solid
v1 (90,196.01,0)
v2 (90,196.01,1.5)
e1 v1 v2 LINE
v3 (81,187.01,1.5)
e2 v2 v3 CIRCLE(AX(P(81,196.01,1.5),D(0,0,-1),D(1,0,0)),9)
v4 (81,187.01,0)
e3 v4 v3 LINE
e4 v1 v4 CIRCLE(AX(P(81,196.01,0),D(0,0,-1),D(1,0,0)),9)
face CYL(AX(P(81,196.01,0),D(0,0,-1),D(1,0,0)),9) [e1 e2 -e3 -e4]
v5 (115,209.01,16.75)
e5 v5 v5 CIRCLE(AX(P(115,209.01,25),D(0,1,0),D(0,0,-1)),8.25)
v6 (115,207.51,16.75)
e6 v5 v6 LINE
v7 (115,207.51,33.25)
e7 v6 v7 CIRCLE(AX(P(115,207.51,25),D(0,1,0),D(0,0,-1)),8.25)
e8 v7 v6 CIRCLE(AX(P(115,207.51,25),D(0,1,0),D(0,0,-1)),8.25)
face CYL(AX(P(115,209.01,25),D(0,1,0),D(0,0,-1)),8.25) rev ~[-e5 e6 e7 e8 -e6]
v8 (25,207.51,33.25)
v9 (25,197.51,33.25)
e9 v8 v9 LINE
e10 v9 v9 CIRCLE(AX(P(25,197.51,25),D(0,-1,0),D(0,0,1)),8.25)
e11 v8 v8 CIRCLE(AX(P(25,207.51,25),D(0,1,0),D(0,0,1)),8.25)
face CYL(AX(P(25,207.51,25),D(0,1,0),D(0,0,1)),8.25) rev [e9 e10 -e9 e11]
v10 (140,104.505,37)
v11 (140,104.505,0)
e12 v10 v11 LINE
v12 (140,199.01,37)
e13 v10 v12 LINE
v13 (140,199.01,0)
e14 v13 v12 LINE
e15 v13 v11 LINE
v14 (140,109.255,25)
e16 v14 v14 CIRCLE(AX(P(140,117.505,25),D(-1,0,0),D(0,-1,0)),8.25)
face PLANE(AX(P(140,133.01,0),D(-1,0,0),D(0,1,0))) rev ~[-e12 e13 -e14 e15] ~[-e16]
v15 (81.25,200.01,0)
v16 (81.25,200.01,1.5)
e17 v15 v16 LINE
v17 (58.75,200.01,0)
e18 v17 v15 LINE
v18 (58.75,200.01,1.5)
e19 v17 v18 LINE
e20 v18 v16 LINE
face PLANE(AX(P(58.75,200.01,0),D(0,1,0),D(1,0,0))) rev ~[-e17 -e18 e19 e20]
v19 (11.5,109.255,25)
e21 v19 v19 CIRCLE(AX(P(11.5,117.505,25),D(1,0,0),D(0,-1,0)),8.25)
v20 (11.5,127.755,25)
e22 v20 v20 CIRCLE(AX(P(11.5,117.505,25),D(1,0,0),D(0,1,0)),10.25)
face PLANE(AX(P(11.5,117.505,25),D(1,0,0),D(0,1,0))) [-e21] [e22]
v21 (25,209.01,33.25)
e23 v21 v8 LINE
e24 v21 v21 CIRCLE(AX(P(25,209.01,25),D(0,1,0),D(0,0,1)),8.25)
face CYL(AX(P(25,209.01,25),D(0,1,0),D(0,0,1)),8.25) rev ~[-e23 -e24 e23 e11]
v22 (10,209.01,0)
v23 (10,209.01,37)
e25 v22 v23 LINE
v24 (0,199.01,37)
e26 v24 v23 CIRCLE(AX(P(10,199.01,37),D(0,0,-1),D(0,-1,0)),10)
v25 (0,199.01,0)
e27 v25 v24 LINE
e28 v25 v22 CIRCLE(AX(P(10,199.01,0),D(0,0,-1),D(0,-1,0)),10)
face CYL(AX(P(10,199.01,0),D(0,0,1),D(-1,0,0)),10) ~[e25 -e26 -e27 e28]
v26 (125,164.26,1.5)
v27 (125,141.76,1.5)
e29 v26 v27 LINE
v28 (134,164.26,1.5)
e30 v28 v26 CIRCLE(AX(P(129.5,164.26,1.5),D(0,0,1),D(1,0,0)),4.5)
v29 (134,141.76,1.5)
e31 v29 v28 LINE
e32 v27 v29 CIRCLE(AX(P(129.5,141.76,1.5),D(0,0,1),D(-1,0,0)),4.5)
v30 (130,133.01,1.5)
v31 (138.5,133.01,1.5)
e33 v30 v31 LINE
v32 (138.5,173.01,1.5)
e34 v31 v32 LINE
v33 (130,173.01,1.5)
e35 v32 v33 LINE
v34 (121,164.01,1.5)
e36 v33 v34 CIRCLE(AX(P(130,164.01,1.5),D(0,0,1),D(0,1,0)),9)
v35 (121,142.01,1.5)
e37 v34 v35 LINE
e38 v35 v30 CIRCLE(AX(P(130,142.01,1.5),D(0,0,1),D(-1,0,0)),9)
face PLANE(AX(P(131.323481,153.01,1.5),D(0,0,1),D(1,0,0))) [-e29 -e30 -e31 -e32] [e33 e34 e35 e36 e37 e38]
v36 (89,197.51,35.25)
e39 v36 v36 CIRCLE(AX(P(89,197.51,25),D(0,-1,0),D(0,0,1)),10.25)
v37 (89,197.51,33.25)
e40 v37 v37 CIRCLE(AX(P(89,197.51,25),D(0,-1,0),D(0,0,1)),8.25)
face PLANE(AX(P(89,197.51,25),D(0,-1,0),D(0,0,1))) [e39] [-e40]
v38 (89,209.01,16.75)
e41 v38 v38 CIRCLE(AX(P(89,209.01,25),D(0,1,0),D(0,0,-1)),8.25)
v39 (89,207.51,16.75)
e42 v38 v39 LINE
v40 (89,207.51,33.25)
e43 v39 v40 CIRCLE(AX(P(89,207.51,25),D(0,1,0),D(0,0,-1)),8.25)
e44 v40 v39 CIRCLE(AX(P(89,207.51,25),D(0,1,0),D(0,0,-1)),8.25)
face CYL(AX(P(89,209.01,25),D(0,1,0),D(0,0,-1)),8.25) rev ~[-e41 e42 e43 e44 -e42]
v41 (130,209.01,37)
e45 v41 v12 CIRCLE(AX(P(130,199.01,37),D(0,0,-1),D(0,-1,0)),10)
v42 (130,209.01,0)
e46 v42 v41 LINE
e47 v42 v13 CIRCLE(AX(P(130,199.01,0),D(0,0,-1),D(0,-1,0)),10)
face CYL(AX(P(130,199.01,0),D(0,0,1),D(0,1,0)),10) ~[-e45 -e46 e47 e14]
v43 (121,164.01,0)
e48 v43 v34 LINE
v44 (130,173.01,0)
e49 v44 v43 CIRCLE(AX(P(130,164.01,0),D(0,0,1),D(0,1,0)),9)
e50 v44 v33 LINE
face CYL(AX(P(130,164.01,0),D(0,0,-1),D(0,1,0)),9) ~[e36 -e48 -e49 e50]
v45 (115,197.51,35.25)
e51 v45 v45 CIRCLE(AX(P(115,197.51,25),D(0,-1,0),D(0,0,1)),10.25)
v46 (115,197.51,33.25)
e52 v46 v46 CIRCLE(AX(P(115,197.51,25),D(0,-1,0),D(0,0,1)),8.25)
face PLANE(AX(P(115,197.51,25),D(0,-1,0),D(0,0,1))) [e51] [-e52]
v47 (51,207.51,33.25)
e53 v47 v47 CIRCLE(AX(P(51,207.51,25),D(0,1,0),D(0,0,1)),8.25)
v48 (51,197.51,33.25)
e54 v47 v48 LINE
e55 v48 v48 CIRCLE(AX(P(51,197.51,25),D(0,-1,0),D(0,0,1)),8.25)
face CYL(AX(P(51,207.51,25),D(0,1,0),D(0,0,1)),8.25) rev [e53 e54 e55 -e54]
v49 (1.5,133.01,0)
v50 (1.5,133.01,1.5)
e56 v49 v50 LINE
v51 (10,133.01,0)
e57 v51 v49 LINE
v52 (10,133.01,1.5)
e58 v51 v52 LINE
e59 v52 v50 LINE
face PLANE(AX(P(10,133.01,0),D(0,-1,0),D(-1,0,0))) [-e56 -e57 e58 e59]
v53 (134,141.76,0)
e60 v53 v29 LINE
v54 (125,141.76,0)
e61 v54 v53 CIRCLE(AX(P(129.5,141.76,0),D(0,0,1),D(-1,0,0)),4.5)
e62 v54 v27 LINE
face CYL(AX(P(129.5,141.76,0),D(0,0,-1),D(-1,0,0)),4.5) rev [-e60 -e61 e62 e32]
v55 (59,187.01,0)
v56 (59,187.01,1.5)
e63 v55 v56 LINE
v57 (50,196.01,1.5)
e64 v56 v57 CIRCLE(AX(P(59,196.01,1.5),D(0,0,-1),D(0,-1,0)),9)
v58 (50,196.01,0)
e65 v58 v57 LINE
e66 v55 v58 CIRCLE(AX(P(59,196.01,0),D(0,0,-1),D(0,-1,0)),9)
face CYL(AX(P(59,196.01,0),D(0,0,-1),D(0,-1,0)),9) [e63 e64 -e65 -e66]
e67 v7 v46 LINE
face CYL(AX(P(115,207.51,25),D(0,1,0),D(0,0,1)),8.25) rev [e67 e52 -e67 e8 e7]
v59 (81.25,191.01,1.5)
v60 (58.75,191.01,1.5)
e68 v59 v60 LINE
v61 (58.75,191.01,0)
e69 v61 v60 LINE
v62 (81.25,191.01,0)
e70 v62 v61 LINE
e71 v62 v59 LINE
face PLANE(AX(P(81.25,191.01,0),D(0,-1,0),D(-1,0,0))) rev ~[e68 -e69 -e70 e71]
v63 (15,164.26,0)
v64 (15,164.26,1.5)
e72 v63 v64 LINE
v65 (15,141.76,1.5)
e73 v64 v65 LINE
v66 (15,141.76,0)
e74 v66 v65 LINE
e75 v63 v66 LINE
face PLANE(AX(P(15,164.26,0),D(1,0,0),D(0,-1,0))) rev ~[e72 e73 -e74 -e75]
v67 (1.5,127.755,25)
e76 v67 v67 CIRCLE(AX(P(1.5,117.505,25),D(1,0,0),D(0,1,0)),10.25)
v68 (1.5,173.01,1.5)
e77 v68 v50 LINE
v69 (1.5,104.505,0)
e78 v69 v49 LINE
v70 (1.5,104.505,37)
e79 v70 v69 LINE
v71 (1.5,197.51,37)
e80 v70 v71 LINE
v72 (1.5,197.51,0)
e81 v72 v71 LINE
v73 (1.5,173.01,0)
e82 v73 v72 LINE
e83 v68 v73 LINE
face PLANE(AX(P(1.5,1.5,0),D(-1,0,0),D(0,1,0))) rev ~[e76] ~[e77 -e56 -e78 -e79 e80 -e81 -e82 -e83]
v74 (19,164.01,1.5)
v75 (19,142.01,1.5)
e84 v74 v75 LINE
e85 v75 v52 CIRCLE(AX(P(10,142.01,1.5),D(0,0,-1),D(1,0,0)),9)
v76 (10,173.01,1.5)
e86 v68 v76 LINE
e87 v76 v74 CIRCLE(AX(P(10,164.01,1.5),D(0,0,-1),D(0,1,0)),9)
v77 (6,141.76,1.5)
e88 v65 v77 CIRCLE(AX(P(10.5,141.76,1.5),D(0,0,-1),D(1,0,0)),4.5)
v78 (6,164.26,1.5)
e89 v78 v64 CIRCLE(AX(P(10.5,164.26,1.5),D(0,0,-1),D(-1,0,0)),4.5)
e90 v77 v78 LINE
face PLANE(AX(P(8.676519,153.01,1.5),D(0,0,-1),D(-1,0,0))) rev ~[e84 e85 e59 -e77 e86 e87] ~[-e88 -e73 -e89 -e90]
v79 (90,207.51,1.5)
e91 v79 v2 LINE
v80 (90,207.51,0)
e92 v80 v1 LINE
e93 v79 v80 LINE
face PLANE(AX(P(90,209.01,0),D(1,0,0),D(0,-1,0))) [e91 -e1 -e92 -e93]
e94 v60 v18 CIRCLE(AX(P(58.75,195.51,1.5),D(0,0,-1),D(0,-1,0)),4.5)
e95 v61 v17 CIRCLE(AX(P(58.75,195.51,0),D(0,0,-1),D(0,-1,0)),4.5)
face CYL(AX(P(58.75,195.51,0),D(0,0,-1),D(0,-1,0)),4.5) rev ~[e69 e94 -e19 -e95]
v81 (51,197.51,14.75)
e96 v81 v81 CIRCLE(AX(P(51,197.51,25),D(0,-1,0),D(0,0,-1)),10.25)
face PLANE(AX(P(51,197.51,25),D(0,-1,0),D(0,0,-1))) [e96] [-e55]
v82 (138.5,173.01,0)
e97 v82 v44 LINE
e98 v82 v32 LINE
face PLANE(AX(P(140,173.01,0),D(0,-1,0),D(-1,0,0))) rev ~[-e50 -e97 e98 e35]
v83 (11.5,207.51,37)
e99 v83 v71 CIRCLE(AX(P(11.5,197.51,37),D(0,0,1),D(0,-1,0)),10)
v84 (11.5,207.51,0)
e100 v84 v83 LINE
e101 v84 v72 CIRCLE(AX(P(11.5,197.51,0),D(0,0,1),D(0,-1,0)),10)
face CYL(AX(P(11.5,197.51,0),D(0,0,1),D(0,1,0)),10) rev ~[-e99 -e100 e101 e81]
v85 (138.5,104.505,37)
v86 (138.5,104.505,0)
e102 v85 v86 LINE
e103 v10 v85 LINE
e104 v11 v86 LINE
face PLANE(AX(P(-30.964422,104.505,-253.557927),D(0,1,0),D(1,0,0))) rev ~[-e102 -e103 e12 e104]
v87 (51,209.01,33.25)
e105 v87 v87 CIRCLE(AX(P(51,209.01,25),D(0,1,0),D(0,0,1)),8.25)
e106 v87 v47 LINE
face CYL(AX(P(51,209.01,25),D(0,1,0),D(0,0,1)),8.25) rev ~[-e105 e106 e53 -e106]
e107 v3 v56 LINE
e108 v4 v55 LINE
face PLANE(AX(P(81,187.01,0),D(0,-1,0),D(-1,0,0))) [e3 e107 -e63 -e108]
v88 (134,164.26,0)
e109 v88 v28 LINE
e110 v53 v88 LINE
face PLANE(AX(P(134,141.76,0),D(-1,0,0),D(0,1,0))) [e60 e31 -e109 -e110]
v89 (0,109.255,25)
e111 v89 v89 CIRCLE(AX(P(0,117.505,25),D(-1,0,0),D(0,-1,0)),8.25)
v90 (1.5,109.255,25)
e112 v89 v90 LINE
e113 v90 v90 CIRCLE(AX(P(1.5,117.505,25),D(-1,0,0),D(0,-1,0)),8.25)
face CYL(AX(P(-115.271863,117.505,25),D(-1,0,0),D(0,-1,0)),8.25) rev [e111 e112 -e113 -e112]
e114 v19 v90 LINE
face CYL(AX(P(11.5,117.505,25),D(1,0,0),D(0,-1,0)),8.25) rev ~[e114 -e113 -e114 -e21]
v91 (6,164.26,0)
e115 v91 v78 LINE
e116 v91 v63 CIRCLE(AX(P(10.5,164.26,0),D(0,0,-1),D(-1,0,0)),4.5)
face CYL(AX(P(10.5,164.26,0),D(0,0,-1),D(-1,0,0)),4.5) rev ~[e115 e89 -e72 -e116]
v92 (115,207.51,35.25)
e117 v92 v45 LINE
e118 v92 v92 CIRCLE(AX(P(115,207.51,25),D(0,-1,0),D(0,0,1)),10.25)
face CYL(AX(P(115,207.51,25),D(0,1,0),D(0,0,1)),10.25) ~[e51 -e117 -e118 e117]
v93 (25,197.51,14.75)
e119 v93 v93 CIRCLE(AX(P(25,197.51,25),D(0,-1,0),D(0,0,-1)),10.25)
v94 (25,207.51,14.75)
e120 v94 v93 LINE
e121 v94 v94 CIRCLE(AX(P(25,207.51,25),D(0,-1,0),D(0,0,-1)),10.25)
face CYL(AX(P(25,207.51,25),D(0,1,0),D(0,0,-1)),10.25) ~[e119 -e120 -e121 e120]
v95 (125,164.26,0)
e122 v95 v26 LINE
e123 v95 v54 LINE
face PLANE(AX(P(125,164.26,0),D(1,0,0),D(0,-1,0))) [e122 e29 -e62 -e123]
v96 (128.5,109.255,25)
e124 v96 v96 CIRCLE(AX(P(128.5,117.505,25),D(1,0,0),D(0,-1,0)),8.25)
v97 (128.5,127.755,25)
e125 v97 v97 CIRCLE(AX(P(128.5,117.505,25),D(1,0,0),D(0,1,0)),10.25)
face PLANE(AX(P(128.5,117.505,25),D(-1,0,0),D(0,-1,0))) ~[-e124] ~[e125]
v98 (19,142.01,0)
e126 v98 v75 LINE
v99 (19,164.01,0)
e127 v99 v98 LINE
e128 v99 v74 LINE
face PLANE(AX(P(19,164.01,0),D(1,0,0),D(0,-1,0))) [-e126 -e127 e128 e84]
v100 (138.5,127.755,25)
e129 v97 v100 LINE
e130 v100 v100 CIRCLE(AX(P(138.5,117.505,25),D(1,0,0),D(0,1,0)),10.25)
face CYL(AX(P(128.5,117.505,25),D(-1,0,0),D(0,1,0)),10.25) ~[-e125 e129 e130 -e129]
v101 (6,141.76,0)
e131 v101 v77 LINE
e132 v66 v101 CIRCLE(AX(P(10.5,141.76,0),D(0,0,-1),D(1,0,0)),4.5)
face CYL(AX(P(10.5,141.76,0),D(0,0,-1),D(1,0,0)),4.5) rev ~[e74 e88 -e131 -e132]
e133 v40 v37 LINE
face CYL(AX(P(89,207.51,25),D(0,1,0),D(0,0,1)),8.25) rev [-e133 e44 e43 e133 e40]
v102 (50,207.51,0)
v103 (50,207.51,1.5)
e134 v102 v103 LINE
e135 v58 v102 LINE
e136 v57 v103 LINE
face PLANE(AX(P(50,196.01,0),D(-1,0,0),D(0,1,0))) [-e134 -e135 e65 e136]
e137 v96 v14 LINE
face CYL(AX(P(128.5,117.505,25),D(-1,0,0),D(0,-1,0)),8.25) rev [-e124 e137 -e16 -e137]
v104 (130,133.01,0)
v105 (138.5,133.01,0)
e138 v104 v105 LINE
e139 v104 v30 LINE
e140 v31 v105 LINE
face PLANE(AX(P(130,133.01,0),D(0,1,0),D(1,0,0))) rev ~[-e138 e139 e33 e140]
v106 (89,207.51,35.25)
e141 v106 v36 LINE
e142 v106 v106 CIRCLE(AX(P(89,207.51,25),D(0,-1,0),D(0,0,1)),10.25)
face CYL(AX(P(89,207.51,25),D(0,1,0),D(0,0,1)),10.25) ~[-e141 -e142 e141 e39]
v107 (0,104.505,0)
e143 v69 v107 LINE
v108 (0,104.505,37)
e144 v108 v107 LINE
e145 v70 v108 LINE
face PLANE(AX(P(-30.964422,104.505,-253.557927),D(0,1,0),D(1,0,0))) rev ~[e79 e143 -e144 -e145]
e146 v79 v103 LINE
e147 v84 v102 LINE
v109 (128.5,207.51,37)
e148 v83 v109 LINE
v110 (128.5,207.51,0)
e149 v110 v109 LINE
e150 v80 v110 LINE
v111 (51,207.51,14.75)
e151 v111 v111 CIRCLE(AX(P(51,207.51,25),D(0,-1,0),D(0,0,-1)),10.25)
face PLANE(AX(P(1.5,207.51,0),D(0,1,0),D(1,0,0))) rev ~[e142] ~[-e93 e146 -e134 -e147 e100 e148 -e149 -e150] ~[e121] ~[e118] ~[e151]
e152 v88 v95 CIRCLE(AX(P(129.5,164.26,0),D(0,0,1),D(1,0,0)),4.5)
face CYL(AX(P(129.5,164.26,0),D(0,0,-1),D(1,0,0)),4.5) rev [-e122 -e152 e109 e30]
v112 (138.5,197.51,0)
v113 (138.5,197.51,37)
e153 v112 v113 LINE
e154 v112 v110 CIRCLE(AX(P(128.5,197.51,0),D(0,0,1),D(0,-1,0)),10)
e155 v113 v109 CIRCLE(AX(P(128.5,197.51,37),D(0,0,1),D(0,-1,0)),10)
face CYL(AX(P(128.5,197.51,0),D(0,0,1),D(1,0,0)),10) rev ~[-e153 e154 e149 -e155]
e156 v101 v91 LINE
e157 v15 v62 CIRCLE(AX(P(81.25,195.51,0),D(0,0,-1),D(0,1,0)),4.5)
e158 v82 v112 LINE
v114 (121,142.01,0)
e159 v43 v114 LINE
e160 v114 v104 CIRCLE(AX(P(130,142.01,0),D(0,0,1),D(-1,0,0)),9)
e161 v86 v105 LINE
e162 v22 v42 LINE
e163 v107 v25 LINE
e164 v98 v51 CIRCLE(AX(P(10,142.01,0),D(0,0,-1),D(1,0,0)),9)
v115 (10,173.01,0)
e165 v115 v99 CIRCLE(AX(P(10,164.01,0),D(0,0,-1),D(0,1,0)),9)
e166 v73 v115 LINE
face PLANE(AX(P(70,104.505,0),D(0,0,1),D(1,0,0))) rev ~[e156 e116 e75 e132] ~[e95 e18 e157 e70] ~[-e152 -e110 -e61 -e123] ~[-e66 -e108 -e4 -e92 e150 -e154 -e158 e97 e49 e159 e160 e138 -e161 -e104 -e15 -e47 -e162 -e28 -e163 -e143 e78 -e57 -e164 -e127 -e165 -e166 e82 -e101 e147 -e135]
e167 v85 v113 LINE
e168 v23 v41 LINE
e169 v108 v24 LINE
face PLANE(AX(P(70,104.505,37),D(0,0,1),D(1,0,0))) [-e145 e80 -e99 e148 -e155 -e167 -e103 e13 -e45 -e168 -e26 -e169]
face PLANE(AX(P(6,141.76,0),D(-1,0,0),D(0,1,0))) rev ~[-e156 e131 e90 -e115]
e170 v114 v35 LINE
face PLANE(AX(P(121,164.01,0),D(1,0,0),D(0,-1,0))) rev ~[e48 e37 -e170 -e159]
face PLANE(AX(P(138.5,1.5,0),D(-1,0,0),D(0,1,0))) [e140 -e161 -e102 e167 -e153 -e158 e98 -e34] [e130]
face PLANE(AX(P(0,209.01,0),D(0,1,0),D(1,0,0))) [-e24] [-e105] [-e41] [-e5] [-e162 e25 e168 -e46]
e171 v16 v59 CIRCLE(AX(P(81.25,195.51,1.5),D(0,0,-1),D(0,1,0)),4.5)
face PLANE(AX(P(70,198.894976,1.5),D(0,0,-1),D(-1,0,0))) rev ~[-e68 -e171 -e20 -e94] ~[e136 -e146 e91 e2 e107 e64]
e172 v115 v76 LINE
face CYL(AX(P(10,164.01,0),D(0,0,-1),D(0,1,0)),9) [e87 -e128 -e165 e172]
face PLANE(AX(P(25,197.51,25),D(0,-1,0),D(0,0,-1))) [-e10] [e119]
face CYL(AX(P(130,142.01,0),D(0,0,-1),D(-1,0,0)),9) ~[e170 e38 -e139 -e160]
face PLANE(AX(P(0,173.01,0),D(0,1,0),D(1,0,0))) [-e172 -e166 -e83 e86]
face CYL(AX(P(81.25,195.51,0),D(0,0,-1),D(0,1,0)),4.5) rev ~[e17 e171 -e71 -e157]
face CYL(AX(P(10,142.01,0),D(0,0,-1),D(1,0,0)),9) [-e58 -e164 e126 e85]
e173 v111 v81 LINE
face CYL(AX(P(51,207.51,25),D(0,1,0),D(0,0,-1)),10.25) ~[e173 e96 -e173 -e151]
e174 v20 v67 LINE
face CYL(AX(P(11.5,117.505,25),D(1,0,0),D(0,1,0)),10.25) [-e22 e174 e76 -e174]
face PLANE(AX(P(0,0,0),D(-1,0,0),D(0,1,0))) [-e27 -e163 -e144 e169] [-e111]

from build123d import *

# Parameters (mm, degrees)
SKIZZE1_W                            = 140
SKIZZE1_H                            = 209.01
SKIZZE1_W_2                          = 137
SKIZZE1_H_2                          = 206.01
AUFSATZ_LINEAR_AUSTRAGEN1_DEPTH      = 37
VERRUNDUNG1_R                        = 10
SKIZZE3_R                            = 8.25
SCHNITT_LINEAR_AUSTRAGEN1_DEPTH      = 1.5
SCHNITT_LINEAR_AUSTRAGEN2_DEPTH      = 255.27186258
SCHNITT_LINEAR_AUSTRAGEN2_DEPTH_BACK = 255.27186258
SKIZZE4_R                            = 8.25
AUFSATZ_LINEAR_AUSTRAGEN3_DEPTH      = 1.5
SCHNITT_LINEAR_AUSTRAGEN3_DEPTH      = 255.057926662
SCHNITT_LINEAR_AUSTRAGEN3_DEPTH_BACK = 255.057926662
SKIZZE6_W                            = 230.516002865
SKIZZE6_H                            = 119.565202556
SKIZZE7_R                            = 10.25
SKIZZE7_R_2                          = 8.25
AUFSATZ_LINEAR_AUSTRAGEN4_DEPTH      = 10
AUFSATZ_LINEAR_START                 = 10
SKIZZE8_R                            = 10.25
SKIZZE8_R_2                          = 8.25
AUFSATZ_LINEAR_AUSTRAGEN5_DEPTH      = 10


with BuildPart() as part:
    # Skizze1 → Aufsatz-Linear austragen1 (new body)
    with BuildSketch(Plane.XY):
        with Locations((70, 104.505)):
            Rectangle(SKIZZE1_W, SKIZZE1_H)
        with Locations((70, 104.505)):
            Rectangle(SKIZZE1_W_2, SKIZZE1_H_2, mode=Mode.SUBTRACT)
    extrude(amount=AUFSATZ_LINEAR_AUSTRAGEN1_DEPTH)

    # Verrundung1
    verrundung1_edges = [part.edges().sort_by_distance(p)[0] for p in [
        (1.5, 207.51, 18.5),
        (1.5, 1.5, 18.5),
        (138.5, 1.5, 18.5),
        (138.5, 207.51, 18.5),
        (0, 209.01, 18.5),
        (140, 209.01, 18.5),
        (140, 0, 18.5),
        (0, 0, 18.5),
    ]]
    fillet(verrundung1_edges, radius=VERRUNDUNG1_R)

    # Skizze3 → Schnitt-Linear austragen1 (cut)
    with BuildSketch(Plane(origin=(0, 209.01, 0), x_dir=(1, 0, 0), z_dir=(0, 1, 0))):
        with Locations(Location((25, -25, 0), (0, 0, 270))):
            Circle(SKIZZE3_R)
        with Locations(Location((51, -25, 0), (0, 0, 270))):
            Circle(SKIZZE3_R)
        with Locations(Location((89, -25, 0), (0, 0, 90))):
            Circle(SKIZZE3_R)
        with Locations(Location((115, -25, 0), (0, 0, 90))):
            Circle(SKIZZE3_R)
    extrude(amount=-SCHNITT_LINEAR_AUSTRAGEN1_DEPTH, mode=Mode.SUBTRACT)

    # Skizze4 → Schnitt-Linear austragen2 (cut, two sides: drawn at the far end of the back side and taken through both)
    with BuildSketch(Plane(origin=(140, 0, 0), x_dir=(0, 0, -1), z_dir=(1, 0, 0)).offset(-SCHNITT_LINEAR_AUSTRAGEN2_DEPTH_BACK)):
        with Locations(Location((-25, 117.505, 0), (0, 0, 270))):
            Circle(SKIZZE4_R)
        with Locations(Location((-25, 91.505, 0), (0, 0, 270))):
            Circle(SKIZZE4_R)
    extrude(amount=SCHNITT_LINEAR_AUSTRAGEN2_DEPTH + SCHNITT_LINEAR_AUSTRAGEN2_DEPTH_BACK, mode=Mode.SUBTRACT)

    # Skizze5 → Aufsatz-Linear austragen3 (add)
    # profile 1 of 5: a face of its own
    with BuildSketch(Plane(origin=(0, 0, 0), x_dir=(-1, 0, 0), z_dir=(0, 0, -1))):
        with BuildLine():
            Line((-140, 173.01), (-130, 173.01))
            ThreePointArc((-130, 173.01), (-123.636038969, 170.373961031), (-121, 164.01))
            Line((-121, 164.01), (-121, 142.01))
            ThreePointArc((-121, 142.01), (-123.636038969, 135.646038969), (-130, 133.01))
            Line((-130, 133.01), (-140, 133.01))
            Line((-140, 133.01), (-140, 173.01))
        make_face()
        with BuildLine():
            Line((-125, 164.26), (-125, 141.76))
            ThreePointArc((-125, 141.76), (-129.5, 137.26), (-134, 141.76))
            Line((-134, 141.76), (-134, 164.26))
            ThreePointArc((-134, 164.26), (-129.5, 168.76), (-125, 164.26))
        make_face(mode=Mode.SUBTRACT)
    # profile 2 of 5: a face of its own
    with BuildSketch(Plane(origin=(0, 0, 0), x_dir=(-1, 0, 0), z_dir=(0, 0, -1))):
        with BuildLine():
            Line((-90, 209.01), (-90, 196.01))
            ThreePointArc((-90, 196.01), (-87.363961031, 189.646038969), (-81, 187.01))
            Line((-81, 187.01), (-59, 187.01))
            ThreePointArc((-59, 187.01), (-52.636038969, 189.646038969), (-50, 196.01))
            Line((-50, 196.01), (-50, 209.01))
            Line((-50, 209.01), (-90, 209.01))
        make_face()
        with BuildLine():
            Line((-58.75, 200.01), (-81.25, 200.01))
            ThreePointArc((-81.25, 200.01), (-85.75, 195.51), (-81.25, 191.01))
            Line((-81.25, 191.01), (-58.75, 191.01))
            ThreePointArc((-58.75, 191.01), (-54.25, 195.51), (-58.75, 200.01))
        make_face(mode=Mode.SUBTRACT)
    # profile 3 of 5: a face of its own
    with BuildSketch(Plane(origin=(0, 0, 0), x_dir=(-1, 0, 0), z_dir=(0, 0, -1))):
        with BuildLine():
            Line((-19, 164.01), (-19, 142.01))
            ThreePointArc((-19, 142.01), (-16.363961031, 135.646038969), (-10, 133.01))
            Line((-10, 133.01), (0, 133.01))
            Line((0, 133.01), (0, 173.01))
            Line((0, 173.01), (-10, 173.01))
            ThreePointArc((-10, 173.01), (-16.363961031, 170.373961031), (-19, 164.01))
        make_face()
        with BuildLine():
            Line((-15, 164.26), (-15, 141.76))
            ThreePointArc((-15, 141.76), (-10.5, 137.26), (-6, 141.76))
            Line((-6, 141.76), (-6, 164.26))
            ThreePointArc((-6, 164.26), (-10.5, 168.76), (-15, 164.26))
        make_face(mode=Mode.SUBTRACT)
    # profile 4 of 5: a face of its own
    with BuildSketch(Plane(origin=(0, 0, 0), x_dir=(-1, 0, 0), z_dir=(0, 0, -1))):
        with BuildLine():
            Line((0, 36), (-10, 36))
            ThreePointArc((-10, 36), (-16.363961031, 38.636038969), (-19, 45))
            Line((-19, 45), (-19, 67))
            ThreePointArc((-19, 67), (-16.363961031, 73.363961031), (-10, 76))
            Line((-10, 76), (0, 76))
            Line((0, 76), (0, 36))
        make_face()
        with BuildLine():
            Line((-15, 44.75), (-15, 67.25))
            ThreePointArc((-15, 67.25), (-10.5, 71.75), (-6, 67.25))
            Line((-6, 67.25), (-6, 44.75))
            ThreePointArc((-6, 44.75), (-10.5, 40.25), (-15, 44.75))
        make_face(mode=Mode.SUBTRACT)
    # profile 5 of 5: a face of its own
    with BuildSketch(Plane(origin=(0, 0, 0), x_dir=(-1, 0, 0), z_dir=(0, 0, -1))):
        with BuildLine():
            Line((-121, 45), (-121, 67))
            ThreePointArc((-121, 67), (-123.636038969, 73.363961031), (-130, 76))
            Line((-130, 76), (-140, 76))
            Line((-140, 76), (-140, 36))
            Line((-140, 36), (-130, 36))
            ThreePointArc((-130, 36), (-123.636038969, 38.636038969), (-121, 45))
        make_face()
        with BuildLine():
            Line((-125, 44.75), (-125, 67.25))
            ThreePointArc((-125, 67.25), (-129.5, 71.75), (-134, 67.25))
            Line((-134, 67.25), (-134, 44.75))
            ThreePointArc((-134, 44.75), (-129.5, 40.25), (-125, 44.75))
        make_face(mode=Mode.SUBTRACT)
    extrude(amount=-AUFSATZ_LINEAR_AUSTRAGEN3_DEPTH)

    # Skizze6 → Schnitt-Linear austragen3 (cut, two sides: drawn at the far end of the back side and taken through both)
    with BuildSketch(Plane.XY.offset(1.5).offset(-SCHNITT_LINEAR_AUSTRAGEN3_DEPTH_BACK)):
        with Locations((84.29357918, 44.722398722)):
            Rectangle(SKIZZE6_W, SKIZZE6_H)
    extrude(amount=SCHNITT_LINEAR_AUSTRAGEN3_DEPTH + SCHNITT_LINEAR_AUSTRAGEN3_DEPTH_BACK, mode=Mode.SUBTRACT)

    # Skizze7 → Aufsatz-Linear austragen4 (add)
    # profile 1 of 4: a face of its own
    with BuildSketch(Plane.XZ.offset(-207.51)):
        with Locations(Location((51, 25, 0), (0, 0, 270))):
            Circle(SKIZZE7_R)
        with Locations(Location((51, 25, 0), (0, 0, 90))):
            Circle(SKIZZE7_R_2, mode=Mode.SUBTRACT)
    # profile 2 of 4: a face of its own
    with BuildSketch(Plane.XZ.offset(-207.51)):
        with Locations(Location((25, 25, 0), (0, 0, 270))):
            Circle(SKIZZE7_R)
        with Locations(Location((25, 25, 0), (0, 0, 90))):
            Circle(SKIZZE7_R_2, mode=Mode.SUBTRACT)
    # profile 3 of 4: a face of its own
    with BuildSketch(Plane.XZ.offset(-207.51)):
        with Locations(Location((115, 25, 0), (0, 0, 90))):
            Circle(SKIZZE7_R)
        with Locations(Location((115, 25, 0), (0, 0, 90))):
            Circle(SKIZZE7_R_2, mode=Mode.SUBTRACT)
    # profile 4 of 4: a face of its own
    with BuildSketch(Plane.XZ.offset(-207.51)):
        with Locations(Location((89, 25, 0), (0, 0, 90))):
            Circle(SKIZZE7_R)
        with Locations(Location((89, 25, 0), (0, 0, 90))):
            Circle(SKIZZE7_R_2, mode=Mode.SUBTRACT)
    extrude(amount=AUFSATZ_LINEAR_AUSTRAGEN4_DEPTH)

    # Skizze8 → Aufsatz-Linear austragen5 (add)
    with BuildSketch(Plane(origin=(1.5, 0, 0), x_dir=(0, 0, -1), z_dir=(1, 0, 0)).offset(AUFSATZ_LINEAR_START)):
        with Locations(Location((-25, 117.505, 0), (0, 0, 90))):
            Circle(SKIZZE8_R)
        with Locations(Location((-25, 117.505, 0), (0, 0, 270))):
            Circle(SKIZZE8_R_2, mode=Mode.SUBTRACT)
    aufsatz_linear_austragen5 = extrude(amount=-AUFSATZ_LINEAR_AUSTRAGEN5_DEPTH)

    # Spiegeln1: Aufsatz-Linear austragen5 across plane
    add(aufsatz_linear_austragen5.mirror(Plane.ZY.offset(-70)))


solid = part.part
